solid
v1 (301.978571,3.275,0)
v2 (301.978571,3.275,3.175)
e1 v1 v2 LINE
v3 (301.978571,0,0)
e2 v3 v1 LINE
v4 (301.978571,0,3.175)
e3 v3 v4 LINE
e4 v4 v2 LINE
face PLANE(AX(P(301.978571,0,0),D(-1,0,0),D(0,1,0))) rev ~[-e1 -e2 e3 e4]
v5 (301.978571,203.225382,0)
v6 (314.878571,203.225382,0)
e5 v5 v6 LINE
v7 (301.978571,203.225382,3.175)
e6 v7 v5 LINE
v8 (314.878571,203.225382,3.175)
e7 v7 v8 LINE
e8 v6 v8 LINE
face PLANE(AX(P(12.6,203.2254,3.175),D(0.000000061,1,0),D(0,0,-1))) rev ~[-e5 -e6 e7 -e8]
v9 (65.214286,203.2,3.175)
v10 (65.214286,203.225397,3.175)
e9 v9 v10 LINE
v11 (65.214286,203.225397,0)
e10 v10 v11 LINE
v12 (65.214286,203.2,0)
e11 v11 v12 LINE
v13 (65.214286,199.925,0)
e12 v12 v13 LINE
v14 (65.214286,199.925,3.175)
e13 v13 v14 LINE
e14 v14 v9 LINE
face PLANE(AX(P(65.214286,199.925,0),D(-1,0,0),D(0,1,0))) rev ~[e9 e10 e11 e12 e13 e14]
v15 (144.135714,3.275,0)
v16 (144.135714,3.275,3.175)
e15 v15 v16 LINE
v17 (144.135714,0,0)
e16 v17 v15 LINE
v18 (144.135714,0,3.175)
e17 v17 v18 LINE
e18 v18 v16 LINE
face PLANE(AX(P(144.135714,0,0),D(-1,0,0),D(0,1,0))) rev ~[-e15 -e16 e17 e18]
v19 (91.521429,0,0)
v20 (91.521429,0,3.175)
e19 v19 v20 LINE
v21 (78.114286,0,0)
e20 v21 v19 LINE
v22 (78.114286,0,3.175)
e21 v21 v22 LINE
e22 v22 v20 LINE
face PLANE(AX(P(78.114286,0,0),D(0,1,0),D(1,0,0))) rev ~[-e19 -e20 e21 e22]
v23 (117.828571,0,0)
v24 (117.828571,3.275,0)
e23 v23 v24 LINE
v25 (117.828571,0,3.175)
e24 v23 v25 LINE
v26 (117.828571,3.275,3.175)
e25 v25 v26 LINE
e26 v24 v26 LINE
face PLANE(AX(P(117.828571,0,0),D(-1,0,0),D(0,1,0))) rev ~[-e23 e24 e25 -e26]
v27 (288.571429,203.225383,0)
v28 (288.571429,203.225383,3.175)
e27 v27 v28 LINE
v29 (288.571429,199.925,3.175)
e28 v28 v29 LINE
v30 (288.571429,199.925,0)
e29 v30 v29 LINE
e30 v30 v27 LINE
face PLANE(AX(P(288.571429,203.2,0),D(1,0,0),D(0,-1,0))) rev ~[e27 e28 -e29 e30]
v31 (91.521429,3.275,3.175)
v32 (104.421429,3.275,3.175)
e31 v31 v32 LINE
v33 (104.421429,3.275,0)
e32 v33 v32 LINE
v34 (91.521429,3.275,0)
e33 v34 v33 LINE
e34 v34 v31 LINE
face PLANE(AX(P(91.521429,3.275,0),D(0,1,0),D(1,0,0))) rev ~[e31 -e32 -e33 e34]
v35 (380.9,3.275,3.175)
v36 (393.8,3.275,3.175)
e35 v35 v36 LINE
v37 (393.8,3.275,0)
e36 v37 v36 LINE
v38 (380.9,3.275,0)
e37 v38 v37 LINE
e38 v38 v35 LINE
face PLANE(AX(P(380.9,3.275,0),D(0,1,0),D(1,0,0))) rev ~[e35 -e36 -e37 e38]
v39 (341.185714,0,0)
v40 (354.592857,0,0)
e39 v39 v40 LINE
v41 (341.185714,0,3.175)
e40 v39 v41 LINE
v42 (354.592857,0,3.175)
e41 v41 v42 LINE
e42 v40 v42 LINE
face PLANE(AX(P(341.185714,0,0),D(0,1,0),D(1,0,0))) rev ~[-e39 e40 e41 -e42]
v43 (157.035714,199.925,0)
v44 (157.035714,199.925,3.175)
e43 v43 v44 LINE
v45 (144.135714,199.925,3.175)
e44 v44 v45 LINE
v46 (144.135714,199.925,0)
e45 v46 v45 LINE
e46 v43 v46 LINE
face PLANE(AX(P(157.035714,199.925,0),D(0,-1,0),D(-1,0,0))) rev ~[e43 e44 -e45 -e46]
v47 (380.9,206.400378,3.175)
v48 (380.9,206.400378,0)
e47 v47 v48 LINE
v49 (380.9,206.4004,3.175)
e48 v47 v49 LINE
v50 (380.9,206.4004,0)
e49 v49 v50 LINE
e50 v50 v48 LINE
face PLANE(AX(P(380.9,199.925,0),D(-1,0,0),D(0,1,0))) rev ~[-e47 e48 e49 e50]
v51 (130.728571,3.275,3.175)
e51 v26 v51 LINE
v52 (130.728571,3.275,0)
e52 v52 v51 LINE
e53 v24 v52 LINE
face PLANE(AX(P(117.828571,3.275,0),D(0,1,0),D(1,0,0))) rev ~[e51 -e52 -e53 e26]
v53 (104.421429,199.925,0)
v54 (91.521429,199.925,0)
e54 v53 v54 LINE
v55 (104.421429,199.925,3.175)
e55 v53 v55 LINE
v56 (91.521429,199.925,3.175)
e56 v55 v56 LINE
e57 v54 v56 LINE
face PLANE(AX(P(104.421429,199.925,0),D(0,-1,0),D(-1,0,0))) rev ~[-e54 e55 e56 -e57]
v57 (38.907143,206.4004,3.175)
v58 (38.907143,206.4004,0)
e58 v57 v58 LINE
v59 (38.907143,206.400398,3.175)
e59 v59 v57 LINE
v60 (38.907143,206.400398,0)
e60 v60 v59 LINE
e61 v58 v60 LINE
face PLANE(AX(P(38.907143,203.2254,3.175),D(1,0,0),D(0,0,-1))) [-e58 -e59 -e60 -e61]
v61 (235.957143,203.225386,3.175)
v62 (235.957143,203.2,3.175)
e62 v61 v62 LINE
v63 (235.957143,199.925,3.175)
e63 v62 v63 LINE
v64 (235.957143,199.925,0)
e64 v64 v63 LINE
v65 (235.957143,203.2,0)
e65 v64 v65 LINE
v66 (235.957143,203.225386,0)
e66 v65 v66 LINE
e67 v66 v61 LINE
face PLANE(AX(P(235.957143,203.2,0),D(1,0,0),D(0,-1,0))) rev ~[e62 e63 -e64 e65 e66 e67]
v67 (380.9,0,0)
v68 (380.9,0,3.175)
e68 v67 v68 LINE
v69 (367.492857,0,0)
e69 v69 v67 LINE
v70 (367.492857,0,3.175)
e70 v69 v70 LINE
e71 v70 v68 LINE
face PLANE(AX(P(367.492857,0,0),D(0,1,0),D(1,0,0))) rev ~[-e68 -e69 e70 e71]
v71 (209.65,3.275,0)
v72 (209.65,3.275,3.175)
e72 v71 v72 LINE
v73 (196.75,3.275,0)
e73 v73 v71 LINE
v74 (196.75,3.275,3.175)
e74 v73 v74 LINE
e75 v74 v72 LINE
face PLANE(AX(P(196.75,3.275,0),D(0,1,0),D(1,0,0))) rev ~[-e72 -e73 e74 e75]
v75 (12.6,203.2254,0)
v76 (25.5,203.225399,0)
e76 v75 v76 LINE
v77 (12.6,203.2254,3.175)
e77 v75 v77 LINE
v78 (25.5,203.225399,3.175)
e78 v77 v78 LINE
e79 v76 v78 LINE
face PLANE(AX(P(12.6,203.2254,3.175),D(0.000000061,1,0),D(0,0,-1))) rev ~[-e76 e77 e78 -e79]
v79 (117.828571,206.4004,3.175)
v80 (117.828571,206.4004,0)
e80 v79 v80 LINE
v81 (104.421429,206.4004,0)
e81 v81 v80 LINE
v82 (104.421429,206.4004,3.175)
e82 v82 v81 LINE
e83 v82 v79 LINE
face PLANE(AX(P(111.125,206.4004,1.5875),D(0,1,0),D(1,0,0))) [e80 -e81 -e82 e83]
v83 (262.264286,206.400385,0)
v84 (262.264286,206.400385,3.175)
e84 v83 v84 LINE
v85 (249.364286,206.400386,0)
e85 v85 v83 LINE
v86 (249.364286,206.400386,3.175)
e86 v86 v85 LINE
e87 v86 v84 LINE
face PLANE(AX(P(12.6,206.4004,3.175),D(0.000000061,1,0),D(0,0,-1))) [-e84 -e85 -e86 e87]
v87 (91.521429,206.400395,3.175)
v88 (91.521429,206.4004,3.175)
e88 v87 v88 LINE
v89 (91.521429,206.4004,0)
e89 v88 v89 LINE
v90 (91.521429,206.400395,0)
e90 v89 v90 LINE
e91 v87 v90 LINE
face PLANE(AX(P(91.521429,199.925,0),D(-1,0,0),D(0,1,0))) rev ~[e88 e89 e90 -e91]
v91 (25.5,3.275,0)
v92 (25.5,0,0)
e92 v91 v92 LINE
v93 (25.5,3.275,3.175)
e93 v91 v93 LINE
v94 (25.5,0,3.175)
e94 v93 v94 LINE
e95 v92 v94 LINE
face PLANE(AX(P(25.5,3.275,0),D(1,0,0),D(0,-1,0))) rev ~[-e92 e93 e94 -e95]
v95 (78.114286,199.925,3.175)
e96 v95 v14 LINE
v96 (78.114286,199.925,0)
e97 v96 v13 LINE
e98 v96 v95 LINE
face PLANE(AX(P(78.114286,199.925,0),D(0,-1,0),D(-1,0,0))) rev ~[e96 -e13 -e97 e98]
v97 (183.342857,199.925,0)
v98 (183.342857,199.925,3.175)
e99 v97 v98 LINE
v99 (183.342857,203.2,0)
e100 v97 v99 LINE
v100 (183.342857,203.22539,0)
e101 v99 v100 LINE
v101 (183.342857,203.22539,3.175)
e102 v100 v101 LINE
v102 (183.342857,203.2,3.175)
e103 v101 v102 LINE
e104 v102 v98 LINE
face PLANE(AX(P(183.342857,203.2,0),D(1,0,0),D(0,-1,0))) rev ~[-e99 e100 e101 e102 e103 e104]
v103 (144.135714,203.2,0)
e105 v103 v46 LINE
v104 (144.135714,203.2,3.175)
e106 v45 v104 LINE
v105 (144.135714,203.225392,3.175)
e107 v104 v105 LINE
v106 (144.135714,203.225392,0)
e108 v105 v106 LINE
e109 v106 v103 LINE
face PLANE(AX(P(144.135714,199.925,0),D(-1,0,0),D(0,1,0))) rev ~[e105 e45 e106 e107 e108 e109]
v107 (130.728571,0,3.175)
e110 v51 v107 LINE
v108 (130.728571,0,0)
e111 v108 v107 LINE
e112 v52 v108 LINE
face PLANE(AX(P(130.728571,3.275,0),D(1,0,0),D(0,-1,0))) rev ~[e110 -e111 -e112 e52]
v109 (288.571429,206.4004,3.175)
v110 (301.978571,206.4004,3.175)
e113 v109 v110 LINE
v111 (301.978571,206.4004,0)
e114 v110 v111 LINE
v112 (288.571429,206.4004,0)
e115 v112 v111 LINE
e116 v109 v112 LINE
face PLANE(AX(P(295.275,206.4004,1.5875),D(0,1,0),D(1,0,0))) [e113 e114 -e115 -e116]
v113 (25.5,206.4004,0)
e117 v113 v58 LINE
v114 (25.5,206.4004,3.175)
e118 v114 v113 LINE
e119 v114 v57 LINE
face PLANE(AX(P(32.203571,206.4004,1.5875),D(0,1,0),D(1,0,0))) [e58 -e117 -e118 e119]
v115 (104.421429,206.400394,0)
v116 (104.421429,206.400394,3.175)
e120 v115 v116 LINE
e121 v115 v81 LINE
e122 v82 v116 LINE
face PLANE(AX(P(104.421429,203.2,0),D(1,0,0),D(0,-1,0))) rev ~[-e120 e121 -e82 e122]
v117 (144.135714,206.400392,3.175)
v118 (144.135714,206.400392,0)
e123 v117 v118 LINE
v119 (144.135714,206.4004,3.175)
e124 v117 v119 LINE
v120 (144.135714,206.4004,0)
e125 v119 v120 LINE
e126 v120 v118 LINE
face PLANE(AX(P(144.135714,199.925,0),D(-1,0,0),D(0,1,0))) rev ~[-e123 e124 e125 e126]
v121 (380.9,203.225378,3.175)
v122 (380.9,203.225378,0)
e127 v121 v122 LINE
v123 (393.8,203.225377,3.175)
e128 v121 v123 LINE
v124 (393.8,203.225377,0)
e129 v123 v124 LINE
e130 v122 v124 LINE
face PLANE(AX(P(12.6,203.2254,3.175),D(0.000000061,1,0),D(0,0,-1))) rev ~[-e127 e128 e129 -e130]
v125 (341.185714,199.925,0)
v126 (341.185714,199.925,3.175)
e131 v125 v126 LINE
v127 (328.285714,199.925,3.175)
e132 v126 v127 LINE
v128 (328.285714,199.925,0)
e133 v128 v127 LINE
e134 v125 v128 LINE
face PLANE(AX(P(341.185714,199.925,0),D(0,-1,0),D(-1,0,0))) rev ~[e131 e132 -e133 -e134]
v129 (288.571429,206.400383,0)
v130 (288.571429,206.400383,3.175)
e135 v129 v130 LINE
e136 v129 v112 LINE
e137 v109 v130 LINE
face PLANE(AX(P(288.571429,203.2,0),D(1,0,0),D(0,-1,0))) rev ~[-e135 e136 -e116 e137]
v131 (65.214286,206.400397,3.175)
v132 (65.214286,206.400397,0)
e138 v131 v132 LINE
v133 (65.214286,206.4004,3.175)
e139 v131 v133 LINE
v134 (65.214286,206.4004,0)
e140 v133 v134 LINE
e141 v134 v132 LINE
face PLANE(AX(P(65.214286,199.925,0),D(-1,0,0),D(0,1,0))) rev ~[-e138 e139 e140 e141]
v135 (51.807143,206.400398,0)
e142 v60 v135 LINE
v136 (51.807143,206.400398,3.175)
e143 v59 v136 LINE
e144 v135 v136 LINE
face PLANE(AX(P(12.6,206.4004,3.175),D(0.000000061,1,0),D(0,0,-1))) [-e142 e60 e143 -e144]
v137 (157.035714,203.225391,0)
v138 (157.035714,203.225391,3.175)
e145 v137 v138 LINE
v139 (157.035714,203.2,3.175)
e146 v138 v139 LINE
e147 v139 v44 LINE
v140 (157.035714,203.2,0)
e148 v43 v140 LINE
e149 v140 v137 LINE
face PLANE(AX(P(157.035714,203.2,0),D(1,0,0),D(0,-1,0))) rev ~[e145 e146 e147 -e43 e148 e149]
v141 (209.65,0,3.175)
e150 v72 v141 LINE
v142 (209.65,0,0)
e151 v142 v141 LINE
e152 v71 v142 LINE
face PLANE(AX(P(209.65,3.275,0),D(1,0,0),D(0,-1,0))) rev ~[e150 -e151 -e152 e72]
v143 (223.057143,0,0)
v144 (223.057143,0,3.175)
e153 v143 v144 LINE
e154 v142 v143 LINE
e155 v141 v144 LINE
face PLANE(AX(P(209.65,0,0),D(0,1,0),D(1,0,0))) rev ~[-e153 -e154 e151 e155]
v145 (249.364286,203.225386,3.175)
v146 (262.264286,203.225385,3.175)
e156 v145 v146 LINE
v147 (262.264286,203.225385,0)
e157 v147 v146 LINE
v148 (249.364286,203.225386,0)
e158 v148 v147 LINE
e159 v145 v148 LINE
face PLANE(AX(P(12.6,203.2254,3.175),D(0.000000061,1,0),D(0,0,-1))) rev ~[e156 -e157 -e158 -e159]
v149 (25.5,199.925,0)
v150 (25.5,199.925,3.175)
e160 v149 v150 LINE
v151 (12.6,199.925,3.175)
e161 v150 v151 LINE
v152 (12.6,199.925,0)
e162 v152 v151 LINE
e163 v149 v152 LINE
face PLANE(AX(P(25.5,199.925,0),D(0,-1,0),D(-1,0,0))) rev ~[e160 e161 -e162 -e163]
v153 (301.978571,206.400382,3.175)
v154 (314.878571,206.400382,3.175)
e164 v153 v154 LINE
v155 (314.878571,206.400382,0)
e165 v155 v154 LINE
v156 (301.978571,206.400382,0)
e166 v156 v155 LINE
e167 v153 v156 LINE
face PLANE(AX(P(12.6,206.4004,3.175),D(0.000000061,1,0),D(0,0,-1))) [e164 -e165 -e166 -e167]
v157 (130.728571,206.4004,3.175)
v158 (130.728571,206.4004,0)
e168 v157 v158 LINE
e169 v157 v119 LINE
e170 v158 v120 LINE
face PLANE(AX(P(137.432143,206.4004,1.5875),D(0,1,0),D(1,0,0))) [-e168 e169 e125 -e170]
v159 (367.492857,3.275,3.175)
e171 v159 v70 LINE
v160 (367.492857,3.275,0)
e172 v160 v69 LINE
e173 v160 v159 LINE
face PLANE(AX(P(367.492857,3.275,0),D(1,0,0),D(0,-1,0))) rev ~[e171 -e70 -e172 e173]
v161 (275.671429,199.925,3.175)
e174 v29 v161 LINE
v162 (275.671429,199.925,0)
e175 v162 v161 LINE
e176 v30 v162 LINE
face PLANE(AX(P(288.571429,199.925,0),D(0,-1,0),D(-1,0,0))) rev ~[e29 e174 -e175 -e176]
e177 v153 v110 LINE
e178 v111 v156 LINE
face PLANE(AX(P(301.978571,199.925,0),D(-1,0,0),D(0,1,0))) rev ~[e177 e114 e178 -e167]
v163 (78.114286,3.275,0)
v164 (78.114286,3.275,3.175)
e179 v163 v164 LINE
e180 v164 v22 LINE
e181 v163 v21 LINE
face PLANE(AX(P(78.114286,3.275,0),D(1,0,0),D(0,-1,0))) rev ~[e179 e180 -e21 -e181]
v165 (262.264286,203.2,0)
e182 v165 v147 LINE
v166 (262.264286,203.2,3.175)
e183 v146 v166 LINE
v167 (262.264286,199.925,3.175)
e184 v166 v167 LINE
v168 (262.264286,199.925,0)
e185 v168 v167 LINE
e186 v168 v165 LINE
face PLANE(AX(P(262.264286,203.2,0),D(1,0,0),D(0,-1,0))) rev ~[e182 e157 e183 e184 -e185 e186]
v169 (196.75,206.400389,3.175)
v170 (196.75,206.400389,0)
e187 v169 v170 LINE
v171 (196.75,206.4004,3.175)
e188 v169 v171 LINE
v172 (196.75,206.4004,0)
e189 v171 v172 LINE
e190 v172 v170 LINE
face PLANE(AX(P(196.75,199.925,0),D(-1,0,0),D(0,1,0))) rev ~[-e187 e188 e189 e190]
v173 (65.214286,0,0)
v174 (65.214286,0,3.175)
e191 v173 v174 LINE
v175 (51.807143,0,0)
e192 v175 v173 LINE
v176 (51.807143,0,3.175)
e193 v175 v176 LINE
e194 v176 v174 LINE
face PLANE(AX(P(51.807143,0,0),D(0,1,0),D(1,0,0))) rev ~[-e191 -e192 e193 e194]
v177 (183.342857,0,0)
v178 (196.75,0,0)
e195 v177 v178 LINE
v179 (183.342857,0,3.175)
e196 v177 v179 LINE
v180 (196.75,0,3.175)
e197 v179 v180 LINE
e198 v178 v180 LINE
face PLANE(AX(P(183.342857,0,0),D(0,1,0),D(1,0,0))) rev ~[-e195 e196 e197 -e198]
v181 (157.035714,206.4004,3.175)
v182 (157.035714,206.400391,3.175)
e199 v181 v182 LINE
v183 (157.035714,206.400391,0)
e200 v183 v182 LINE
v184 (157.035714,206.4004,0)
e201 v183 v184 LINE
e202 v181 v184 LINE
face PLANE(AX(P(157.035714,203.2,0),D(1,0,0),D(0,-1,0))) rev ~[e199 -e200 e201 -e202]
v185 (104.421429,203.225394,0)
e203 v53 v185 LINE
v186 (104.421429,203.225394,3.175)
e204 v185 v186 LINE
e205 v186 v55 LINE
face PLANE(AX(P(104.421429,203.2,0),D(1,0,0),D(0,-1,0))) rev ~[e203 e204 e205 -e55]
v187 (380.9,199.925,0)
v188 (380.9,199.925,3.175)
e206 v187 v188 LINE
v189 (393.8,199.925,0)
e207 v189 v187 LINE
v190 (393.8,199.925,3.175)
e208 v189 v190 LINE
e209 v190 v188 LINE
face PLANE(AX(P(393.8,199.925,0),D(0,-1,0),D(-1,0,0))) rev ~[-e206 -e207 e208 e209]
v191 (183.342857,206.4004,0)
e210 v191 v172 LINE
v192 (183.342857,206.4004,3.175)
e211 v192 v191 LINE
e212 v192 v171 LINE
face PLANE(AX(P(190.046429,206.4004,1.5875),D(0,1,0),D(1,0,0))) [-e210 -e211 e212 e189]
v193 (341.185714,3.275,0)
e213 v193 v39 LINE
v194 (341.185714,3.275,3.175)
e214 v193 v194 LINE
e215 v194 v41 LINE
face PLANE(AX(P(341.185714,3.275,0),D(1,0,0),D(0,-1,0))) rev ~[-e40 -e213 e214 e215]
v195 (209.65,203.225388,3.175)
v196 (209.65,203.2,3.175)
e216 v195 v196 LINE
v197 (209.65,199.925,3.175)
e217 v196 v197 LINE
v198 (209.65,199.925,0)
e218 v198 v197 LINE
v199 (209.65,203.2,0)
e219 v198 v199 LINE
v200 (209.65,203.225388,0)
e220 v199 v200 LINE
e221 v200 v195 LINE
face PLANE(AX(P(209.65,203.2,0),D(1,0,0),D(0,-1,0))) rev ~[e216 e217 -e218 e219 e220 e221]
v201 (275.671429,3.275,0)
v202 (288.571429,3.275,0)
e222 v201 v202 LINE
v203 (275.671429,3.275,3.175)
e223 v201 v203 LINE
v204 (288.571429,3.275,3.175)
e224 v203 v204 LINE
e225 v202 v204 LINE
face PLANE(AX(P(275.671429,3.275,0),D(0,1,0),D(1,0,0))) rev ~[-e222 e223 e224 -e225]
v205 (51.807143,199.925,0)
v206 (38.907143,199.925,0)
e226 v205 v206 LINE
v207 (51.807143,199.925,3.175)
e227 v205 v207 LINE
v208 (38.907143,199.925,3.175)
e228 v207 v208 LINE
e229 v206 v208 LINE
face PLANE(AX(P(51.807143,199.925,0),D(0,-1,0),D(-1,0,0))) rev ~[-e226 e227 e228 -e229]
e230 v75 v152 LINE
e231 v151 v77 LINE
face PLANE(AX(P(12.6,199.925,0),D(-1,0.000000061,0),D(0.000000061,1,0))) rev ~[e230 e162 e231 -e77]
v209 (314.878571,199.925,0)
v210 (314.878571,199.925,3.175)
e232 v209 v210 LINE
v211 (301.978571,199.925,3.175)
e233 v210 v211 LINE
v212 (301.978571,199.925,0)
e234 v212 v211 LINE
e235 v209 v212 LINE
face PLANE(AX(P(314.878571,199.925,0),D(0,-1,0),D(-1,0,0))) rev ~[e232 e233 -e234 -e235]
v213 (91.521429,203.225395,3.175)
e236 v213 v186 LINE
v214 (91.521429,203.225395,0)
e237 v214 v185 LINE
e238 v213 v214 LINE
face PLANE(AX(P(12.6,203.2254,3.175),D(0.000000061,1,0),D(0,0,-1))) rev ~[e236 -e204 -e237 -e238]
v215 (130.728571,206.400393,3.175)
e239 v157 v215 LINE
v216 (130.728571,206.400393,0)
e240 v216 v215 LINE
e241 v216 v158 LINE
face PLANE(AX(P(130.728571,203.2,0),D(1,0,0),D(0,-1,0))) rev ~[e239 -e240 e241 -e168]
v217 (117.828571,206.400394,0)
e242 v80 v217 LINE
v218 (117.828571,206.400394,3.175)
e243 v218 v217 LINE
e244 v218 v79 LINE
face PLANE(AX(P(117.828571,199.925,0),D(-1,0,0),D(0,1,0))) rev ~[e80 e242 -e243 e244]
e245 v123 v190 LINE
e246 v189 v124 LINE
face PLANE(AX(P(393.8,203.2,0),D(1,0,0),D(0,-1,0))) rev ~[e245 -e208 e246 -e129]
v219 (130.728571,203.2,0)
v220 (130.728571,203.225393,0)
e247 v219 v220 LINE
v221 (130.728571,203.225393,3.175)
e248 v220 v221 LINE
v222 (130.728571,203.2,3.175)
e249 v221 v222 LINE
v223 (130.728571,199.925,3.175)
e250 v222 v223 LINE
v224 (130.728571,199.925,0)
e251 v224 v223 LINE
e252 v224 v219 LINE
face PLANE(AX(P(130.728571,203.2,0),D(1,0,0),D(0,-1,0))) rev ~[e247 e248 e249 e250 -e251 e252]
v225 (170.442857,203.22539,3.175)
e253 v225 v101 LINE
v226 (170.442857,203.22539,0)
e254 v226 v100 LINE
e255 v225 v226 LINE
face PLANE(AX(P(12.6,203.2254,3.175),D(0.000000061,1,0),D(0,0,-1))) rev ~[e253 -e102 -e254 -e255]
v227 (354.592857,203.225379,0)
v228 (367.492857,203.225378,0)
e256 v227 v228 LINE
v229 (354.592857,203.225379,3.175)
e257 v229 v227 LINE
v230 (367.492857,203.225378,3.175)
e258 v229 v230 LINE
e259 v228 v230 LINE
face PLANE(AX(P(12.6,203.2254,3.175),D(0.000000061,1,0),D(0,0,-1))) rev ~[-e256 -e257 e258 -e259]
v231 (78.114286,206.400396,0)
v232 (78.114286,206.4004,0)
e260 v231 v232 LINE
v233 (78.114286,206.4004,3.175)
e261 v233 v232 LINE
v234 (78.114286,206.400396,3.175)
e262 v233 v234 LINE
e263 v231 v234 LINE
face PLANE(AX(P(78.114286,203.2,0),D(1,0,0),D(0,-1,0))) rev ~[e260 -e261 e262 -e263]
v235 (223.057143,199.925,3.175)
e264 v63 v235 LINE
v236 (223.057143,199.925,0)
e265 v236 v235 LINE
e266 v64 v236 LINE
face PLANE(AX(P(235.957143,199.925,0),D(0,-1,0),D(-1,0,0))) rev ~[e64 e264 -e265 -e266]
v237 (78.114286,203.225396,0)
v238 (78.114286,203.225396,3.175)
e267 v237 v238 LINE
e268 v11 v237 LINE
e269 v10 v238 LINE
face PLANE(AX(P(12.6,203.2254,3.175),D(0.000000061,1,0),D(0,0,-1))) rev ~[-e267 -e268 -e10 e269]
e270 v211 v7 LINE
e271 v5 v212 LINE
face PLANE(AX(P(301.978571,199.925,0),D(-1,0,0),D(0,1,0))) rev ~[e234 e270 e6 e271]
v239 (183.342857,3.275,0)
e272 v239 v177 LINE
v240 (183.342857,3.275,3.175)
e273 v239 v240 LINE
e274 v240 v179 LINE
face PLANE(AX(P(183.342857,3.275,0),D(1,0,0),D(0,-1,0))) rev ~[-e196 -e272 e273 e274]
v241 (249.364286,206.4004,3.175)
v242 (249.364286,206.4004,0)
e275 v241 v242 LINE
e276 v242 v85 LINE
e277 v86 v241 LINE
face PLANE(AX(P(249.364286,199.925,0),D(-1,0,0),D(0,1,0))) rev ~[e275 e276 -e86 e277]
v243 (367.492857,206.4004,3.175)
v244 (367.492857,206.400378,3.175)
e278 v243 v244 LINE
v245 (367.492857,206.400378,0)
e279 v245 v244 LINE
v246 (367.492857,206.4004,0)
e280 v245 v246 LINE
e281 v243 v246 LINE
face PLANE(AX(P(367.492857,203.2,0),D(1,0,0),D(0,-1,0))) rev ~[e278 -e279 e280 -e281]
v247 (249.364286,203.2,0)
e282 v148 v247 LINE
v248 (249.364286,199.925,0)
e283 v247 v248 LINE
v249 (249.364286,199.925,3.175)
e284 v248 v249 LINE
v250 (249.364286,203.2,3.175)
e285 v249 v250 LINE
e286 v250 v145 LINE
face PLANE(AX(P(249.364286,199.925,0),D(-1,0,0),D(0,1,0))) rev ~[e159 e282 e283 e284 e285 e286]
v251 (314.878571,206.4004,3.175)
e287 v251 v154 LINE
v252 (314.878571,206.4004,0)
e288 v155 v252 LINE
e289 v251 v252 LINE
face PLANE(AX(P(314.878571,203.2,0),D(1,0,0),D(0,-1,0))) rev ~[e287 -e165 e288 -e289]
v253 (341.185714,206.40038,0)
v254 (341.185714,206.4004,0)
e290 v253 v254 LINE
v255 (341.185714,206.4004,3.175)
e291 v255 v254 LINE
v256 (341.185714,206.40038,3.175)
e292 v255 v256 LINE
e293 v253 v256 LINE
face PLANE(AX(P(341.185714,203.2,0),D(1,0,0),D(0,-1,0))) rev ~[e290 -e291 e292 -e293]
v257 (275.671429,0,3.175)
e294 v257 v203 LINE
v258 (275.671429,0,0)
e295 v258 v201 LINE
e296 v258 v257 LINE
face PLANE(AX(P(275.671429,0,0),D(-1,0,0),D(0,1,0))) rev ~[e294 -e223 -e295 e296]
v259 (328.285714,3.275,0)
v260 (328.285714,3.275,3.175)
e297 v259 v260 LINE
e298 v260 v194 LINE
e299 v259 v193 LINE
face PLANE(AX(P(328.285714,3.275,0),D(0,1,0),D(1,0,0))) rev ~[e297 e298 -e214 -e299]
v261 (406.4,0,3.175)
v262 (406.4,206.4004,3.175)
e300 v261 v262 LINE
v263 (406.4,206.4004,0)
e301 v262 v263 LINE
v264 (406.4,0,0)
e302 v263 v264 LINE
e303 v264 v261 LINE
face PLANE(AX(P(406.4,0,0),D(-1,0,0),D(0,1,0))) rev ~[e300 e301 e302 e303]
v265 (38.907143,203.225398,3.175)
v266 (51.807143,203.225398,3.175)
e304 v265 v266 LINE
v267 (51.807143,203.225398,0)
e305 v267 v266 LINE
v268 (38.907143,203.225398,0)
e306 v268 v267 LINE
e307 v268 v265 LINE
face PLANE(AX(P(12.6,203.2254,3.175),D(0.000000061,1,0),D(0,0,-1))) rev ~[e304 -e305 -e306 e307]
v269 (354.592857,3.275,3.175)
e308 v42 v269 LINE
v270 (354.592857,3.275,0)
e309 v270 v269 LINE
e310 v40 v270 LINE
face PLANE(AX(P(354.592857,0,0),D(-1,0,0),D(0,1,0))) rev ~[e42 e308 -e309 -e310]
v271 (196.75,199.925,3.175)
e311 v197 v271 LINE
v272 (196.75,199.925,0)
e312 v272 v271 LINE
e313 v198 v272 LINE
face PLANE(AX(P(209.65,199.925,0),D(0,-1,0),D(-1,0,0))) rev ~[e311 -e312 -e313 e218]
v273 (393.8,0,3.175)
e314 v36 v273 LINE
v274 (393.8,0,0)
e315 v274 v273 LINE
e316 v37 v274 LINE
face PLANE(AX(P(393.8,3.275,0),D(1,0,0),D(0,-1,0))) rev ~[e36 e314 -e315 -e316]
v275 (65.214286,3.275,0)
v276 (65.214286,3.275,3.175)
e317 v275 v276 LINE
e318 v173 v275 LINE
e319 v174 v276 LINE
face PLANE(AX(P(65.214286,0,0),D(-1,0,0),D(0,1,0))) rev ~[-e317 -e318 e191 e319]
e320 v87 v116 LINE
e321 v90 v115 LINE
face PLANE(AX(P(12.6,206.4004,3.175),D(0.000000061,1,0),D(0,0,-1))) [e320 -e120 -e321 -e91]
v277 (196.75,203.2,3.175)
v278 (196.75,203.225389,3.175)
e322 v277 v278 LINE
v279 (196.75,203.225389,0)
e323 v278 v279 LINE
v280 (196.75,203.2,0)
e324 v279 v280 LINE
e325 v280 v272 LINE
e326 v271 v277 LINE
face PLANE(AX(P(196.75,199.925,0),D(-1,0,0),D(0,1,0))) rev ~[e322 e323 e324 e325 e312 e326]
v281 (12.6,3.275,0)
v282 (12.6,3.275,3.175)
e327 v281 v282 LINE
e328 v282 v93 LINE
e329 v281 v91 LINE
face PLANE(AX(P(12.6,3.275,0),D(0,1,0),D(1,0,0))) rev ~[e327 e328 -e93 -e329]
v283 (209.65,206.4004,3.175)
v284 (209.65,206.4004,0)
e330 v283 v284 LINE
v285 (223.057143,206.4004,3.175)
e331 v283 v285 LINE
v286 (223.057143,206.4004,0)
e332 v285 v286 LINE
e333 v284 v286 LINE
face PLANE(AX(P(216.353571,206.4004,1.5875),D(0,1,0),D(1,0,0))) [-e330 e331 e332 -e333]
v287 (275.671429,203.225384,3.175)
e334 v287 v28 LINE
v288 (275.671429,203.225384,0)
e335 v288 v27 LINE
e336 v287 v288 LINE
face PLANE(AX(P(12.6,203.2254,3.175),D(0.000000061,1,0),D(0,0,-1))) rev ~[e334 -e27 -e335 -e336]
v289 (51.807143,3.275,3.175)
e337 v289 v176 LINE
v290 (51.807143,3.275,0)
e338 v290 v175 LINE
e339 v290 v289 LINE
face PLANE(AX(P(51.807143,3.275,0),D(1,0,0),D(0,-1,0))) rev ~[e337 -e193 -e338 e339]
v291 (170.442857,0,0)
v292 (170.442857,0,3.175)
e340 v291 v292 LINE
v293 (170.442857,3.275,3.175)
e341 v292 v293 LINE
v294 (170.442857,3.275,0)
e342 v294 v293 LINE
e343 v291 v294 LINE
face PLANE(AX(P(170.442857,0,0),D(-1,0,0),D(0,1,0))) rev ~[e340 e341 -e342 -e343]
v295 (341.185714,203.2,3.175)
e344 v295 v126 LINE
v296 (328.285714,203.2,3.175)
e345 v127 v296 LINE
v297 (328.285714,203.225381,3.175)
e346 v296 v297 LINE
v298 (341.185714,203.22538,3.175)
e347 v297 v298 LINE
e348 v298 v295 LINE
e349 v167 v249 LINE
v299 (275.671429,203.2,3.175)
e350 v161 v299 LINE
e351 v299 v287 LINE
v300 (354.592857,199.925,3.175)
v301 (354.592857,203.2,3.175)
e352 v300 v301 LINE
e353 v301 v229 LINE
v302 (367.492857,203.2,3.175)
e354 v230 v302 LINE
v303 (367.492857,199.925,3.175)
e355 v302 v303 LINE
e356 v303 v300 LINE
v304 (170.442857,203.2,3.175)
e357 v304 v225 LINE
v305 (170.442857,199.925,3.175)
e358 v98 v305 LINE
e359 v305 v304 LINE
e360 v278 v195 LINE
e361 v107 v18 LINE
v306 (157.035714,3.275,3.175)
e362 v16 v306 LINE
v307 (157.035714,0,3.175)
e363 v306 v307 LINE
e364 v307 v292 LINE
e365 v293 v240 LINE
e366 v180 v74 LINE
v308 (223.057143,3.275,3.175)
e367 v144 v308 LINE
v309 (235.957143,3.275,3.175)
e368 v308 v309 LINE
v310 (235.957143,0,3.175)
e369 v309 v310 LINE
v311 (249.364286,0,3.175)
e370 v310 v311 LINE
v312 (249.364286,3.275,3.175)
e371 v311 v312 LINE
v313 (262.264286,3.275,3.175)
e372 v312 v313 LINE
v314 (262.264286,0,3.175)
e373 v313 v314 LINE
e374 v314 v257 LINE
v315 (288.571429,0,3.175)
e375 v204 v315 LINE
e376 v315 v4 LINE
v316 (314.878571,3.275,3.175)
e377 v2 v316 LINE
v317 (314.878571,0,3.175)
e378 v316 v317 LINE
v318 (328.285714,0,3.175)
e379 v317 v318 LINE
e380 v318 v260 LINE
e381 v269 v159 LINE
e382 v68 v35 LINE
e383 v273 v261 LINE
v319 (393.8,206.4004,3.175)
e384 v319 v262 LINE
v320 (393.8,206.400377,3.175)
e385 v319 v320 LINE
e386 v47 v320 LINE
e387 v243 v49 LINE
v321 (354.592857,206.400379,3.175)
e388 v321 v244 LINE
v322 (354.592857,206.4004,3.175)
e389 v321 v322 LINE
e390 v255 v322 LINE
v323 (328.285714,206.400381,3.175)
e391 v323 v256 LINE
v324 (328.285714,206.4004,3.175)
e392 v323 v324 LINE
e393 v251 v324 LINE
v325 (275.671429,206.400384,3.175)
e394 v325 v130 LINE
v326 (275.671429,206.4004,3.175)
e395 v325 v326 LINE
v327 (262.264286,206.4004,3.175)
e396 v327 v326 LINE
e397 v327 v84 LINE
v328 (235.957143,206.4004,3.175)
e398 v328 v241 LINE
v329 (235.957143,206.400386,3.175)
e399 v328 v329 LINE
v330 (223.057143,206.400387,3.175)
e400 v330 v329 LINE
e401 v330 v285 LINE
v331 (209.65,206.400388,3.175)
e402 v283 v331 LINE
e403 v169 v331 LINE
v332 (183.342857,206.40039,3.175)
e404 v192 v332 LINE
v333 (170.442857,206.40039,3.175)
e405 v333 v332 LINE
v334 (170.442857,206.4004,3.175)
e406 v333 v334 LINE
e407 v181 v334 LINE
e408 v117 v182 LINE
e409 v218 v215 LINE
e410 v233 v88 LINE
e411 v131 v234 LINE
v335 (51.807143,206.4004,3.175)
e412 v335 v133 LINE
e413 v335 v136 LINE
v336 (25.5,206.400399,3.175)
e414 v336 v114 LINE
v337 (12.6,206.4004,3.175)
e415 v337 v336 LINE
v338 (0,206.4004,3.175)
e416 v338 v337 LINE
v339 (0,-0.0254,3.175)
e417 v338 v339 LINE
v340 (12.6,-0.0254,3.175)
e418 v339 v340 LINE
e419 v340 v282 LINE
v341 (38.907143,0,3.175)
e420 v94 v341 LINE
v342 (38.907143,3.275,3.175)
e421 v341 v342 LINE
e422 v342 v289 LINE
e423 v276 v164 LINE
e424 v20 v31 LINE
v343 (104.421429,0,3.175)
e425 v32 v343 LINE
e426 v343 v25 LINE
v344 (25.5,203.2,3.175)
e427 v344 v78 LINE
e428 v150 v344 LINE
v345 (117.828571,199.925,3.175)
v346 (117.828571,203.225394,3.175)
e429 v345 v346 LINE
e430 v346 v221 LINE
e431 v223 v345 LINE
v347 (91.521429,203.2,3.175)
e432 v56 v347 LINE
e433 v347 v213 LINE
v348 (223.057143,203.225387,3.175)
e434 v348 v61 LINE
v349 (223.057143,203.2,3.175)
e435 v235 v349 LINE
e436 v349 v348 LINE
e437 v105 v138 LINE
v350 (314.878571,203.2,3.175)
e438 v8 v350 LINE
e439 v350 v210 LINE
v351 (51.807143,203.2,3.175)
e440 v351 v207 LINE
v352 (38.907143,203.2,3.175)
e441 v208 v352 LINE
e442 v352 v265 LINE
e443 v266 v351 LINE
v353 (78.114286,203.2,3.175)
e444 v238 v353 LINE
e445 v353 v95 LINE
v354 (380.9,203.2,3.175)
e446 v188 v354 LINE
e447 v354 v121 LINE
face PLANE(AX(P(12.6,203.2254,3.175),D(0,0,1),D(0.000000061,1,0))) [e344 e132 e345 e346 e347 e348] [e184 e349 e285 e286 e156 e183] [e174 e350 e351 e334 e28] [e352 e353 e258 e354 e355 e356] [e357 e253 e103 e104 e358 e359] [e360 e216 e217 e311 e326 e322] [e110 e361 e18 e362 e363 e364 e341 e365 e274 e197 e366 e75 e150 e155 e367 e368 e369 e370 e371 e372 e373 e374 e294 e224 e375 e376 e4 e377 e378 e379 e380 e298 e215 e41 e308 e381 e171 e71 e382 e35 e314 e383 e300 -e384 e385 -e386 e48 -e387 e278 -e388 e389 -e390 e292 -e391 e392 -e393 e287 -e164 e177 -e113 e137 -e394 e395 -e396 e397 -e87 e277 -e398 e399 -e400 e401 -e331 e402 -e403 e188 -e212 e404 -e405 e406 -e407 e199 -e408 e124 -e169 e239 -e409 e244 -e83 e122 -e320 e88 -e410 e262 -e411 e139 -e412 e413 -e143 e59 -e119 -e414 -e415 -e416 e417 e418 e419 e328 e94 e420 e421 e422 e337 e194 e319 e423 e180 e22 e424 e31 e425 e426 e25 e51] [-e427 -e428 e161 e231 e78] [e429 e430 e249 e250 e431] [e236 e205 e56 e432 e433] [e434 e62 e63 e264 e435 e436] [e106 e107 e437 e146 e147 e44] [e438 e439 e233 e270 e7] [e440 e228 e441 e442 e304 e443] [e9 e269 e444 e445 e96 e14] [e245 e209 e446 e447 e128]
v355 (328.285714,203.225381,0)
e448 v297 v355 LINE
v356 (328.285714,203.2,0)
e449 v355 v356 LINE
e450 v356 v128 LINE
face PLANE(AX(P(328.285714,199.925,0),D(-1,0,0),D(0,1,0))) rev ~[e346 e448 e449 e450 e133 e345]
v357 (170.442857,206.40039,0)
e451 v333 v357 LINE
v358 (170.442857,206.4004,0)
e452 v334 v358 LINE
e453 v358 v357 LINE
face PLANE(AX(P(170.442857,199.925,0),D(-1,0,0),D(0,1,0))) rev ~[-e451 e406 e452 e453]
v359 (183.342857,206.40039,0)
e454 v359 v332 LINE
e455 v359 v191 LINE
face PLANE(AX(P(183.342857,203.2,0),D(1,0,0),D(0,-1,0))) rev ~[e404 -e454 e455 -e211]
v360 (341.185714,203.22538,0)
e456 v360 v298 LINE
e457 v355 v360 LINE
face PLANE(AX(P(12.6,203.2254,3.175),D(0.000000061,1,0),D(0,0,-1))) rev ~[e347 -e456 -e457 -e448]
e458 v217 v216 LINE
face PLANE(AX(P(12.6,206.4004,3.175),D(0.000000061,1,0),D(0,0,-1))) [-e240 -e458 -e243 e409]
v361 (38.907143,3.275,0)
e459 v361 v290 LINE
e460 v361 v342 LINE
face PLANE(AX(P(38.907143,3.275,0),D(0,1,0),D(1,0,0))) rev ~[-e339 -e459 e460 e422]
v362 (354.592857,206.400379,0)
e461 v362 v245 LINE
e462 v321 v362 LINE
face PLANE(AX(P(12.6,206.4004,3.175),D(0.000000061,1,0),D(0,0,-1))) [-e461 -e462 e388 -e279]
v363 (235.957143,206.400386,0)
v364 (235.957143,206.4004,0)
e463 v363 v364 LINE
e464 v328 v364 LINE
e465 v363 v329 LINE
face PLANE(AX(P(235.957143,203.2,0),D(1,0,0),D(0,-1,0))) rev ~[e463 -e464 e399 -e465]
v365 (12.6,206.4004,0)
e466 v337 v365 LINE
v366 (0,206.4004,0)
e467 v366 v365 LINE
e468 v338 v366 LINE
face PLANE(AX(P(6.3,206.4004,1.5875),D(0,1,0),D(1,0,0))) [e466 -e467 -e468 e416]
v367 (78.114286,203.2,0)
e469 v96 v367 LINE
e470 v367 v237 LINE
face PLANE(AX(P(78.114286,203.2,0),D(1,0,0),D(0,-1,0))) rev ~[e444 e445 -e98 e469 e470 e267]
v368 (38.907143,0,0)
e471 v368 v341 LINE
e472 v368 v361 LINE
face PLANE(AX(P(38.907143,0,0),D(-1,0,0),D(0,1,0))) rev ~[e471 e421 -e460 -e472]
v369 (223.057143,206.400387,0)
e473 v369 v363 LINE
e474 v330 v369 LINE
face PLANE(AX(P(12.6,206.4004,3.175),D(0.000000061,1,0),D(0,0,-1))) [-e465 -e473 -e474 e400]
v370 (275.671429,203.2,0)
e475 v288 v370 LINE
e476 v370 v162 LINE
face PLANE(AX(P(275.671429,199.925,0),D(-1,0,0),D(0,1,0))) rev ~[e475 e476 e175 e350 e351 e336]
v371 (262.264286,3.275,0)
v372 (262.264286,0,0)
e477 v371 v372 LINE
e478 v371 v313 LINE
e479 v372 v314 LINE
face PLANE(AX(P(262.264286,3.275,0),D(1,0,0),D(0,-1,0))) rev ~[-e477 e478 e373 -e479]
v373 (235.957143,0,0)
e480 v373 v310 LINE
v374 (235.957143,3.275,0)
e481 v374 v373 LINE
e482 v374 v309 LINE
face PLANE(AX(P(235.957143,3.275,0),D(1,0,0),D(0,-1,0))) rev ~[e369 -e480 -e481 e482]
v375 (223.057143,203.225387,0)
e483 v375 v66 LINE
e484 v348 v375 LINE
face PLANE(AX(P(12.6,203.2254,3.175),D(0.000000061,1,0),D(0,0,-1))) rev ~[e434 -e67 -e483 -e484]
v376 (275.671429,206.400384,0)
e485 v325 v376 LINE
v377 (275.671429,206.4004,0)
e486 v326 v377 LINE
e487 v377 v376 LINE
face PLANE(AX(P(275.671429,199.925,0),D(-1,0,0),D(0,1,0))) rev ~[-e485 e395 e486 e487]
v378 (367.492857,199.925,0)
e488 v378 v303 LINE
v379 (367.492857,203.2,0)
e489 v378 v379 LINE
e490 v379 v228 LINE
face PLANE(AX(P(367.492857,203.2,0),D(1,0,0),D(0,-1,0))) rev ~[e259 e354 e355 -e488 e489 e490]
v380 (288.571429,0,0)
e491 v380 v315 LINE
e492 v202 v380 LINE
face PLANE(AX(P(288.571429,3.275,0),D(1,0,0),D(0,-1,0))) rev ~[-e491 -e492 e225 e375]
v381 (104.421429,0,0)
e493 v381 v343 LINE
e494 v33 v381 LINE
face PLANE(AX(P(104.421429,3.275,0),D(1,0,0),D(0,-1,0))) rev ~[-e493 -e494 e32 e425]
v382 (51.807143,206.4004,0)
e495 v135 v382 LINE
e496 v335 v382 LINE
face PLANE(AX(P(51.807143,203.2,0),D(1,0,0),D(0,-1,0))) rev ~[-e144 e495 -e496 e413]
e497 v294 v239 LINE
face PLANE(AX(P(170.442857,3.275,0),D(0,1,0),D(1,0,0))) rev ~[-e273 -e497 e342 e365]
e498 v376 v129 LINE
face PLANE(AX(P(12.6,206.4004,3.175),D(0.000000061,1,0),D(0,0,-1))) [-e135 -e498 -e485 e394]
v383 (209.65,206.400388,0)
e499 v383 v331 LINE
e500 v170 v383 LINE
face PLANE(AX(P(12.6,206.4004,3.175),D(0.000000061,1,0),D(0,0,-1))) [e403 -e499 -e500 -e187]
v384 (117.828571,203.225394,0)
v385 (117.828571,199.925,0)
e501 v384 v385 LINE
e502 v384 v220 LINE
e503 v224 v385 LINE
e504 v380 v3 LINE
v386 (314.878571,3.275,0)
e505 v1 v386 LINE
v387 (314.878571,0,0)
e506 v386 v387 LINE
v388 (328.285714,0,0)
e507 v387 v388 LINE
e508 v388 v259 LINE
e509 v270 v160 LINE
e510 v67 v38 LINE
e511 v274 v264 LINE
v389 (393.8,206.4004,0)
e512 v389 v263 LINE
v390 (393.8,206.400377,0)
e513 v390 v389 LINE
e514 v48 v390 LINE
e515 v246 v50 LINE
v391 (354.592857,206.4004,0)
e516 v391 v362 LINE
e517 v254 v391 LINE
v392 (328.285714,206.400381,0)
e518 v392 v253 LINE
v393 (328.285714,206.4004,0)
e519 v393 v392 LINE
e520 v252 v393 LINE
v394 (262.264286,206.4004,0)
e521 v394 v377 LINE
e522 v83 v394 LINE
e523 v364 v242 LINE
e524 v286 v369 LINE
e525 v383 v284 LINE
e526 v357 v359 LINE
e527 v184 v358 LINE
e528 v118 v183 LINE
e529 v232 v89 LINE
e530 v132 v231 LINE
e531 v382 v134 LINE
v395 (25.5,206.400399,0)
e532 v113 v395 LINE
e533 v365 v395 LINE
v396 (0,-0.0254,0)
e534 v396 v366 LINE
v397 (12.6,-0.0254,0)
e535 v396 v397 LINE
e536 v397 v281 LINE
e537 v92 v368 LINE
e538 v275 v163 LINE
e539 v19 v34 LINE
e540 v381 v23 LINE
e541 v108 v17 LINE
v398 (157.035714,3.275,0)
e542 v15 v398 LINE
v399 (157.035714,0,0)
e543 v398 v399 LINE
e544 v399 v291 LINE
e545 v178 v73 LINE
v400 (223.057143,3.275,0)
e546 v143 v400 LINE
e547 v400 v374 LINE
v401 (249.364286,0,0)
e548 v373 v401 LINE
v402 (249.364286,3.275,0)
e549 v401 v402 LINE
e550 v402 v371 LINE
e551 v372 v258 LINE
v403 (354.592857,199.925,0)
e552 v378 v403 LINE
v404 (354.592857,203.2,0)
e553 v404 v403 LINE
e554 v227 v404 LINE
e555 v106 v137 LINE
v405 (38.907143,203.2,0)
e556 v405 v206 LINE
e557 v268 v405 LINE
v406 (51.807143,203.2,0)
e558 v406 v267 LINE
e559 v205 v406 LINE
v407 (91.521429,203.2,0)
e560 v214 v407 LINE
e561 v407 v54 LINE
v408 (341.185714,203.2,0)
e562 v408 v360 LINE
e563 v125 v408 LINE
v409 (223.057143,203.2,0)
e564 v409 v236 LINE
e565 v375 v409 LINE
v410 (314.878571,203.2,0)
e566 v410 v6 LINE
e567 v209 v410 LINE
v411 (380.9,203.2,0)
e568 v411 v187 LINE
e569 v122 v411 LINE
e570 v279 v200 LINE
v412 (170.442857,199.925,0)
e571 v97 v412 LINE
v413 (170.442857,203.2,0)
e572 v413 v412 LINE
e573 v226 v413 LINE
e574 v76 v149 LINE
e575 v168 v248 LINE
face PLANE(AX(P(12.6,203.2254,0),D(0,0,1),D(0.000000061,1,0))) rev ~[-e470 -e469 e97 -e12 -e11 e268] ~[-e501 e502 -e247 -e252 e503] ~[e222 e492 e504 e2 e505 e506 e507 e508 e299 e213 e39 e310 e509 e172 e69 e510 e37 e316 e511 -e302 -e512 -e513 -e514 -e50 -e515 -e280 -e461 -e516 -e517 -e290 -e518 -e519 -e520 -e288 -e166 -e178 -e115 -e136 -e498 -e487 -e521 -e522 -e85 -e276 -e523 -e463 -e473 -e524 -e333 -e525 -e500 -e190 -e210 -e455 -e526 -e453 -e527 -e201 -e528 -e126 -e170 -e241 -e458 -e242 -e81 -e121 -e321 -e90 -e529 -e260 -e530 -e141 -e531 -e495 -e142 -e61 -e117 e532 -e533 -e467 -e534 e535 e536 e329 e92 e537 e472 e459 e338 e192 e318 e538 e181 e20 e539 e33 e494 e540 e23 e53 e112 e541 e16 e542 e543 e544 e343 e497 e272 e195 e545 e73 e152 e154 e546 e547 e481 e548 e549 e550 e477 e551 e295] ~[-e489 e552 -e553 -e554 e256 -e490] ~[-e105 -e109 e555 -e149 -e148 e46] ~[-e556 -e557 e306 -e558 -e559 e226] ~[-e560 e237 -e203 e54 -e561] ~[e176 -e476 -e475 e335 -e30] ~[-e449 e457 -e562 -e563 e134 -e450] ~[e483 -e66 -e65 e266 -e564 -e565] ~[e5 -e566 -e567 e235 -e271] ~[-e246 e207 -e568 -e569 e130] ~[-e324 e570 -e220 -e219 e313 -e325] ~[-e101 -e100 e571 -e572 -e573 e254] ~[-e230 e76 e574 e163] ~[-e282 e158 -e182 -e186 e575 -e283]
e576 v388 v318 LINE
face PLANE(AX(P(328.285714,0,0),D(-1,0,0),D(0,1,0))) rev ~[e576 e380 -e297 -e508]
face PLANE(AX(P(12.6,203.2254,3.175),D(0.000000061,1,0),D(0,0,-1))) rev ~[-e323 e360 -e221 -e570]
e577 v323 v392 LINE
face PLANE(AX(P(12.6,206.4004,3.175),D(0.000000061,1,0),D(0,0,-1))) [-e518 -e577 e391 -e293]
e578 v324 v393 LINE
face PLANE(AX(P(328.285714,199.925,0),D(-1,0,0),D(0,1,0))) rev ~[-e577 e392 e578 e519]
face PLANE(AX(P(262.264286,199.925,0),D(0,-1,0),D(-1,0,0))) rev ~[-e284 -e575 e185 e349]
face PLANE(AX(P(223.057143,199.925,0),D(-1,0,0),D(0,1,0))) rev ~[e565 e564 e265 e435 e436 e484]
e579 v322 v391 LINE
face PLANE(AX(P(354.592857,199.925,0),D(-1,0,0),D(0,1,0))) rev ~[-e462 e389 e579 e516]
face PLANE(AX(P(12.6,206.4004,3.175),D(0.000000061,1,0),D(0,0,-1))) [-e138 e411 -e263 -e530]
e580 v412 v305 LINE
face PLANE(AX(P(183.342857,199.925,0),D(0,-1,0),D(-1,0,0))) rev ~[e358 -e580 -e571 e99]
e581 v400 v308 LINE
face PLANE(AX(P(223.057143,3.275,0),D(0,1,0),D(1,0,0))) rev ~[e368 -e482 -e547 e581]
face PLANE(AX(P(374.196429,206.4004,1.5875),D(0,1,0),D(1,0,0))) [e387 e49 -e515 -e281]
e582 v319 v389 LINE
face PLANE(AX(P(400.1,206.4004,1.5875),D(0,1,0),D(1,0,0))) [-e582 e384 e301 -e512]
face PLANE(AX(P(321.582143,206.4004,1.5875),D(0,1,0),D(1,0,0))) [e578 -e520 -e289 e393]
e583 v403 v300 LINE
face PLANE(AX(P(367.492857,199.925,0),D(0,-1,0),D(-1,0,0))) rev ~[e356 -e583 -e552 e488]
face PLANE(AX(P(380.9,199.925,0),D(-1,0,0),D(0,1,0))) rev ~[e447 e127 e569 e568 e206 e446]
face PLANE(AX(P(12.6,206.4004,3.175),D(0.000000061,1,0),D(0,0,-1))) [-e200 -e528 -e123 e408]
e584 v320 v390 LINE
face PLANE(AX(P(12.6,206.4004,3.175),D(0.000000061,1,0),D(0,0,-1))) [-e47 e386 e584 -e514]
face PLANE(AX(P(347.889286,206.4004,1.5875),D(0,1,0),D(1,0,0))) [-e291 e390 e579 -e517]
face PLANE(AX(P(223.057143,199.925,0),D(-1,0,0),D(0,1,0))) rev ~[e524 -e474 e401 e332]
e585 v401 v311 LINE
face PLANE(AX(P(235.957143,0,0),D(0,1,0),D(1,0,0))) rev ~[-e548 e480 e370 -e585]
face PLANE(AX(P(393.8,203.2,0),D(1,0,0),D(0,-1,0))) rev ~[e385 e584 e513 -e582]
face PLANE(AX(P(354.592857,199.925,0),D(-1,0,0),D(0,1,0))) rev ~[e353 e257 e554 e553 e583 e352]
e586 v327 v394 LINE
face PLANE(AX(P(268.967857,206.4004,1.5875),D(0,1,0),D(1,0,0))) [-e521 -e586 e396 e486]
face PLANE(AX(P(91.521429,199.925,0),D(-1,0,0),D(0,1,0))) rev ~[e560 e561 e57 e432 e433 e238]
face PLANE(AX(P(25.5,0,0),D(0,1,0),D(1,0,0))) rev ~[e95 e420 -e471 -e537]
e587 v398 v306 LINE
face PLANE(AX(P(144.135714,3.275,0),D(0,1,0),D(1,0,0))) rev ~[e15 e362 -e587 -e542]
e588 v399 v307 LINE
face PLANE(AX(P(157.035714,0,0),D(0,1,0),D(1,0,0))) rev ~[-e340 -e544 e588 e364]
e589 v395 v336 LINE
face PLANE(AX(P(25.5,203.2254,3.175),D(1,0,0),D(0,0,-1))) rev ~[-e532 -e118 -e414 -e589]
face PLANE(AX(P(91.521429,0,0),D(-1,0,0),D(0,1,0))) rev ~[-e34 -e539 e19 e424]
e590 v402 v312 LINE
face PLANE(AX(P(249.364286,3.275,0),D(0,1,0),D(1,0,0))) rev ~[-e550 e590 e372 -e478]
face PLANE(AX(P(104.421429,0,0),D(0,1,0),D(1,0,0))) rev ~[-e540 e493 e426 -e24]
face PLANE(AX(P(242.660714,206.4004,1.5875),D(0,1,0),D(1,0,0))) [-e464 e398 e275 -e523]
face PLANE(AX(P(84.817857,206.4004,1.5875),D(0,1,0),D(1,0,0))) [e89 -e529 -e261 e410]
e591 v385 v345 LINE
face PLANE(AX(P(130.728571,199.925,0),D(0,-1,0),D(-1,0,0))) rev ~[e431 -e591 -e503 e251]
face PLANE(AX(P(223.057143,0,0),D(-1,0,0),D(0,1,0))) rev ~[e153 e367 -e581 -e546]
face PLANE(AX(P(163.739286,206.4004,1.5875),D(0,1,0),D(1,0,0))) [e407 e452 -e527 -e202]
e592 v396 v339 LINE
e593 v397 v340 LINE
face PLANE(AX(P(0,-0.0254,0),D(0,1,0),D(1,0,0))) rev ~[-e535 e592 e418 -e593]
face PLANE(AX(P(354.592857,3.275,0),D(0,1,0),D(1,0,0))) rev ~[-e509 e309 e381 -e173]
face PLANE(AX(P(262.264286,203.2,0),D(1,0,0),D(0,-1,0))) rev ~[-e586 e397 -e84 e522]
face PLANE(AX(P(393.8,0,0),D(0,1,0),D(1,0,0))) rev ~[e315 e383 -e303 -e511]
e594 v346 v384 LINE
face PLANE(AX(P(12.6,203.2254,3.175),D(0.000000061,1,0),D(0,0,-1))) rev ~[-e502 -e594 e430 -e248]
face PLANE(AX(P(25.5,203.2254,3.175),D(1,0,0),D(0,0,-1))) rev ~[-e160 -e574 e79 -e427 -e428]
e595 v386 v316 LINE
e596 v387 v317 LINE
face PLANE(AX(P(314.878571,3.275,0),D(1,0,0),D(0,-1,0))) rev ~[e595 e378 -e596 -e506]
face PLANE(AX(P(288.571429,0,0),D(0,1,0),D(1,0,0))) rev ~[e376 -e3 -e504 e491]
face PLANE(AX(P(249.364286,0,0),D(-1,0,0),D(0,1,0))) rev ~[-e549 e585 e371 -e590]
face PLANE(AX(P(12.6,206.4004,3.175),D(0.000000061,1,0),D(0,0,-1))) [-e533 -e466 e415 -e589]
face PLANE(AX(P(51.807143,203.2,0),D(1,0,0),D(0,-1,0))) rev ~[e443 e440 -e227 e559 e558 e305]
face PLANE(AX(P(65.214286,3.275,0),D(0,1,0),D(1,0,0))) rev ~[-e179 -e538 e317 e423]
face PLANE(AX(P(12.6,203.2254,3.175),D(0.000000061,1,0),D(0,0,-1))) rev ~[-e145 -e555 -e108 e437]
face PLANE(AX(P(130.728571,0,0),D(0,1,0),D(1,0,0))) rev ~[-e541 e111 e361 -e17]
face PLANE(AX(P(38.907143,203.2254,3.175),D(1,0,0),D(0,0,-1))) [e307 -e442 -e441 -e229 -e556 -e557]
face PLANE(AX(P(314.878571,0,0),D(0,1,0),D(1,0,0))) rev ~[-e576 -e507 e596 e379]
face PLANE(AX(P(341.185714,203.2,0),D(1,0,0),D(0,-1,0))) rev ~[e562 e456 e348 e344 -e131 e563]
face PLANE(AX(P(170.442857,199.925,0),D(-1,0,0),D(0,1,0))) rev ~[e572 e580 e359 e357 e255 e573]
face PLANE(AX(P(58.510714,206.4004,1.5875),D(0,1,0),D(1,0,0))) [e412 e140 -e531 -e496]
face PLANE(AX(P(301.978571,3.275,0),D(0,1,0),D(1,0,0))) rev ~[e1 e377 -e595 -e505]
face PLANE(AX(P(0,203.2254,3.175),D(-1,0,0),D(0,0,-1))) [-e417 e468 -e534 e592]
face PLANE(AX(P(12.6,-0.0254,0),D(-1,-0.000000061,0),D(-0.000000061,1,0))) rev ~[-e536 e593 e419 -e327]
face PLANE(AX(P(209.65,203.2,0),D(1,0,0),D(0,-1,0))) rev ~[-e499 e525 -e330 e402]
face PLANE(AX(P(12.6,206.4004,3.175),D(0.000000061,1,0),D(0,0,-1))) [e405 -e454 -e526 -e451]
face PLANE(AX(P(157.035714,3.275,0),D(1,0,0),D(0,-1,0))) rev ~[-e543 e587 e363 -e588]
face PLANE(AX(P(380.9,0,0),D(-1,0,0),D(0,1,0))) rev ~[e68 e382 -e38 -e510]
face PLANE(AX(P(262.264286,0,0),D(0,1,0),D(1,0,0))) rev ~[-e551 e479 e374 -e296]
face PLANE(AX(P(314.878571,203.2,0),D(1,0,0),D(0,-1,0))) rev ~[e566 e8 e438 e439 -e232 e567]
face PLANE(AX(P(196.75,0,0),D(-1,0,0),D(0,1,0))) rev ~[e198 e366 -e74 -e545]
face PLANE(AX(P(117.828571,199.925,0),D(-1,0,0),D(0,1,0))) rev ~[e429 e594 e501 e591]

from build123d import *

# Parameters (mm, degrees)
BOSS_EXTRUDE1_DEPTH      = 3.175
SKETCH2_W                = 13.407142857
SKETCH2_H                = 3.175
SKETCH2_W_2              = 12.6000002
SKETCH2_W_3              = 13.407142858
SKETCH2_W_4              = 12.6
BOSS_EXTRUDE3_DEPTH      = 3.175
BOSS_EXTRUDE3_DEPTH_BACK = 0.635
SKETCH3_W                = 3.175
SKETCH3_H                = 3.175
BOSS_EXTRUDE4_DEPTH      = 381.2


with BuildPart() as part:
    # Sketch1 → Boss-Extrude1 (new body)
    with BuildSketch(Plane.XY):
        Polygon((393.8, 203.2), (393.8, 199.925), (380.9, 199.925), (380.9, 203.2), (367.492857143, 203.2), (367.492857143, 199.925), (354.592857143, 199.925), (354.592857143, 203.2), (341.185714286, 203.2), (341.185714286, 199.925), (328.285714286, 199.925), (328.285714286, 203.2), (314.878571429, 203.2), (314.878571429, 199.925), (301.978571429, 199.925), (301.978571429, 203.2), (288.571428571, 203.2), (288.571428571, 199.925), (275.671428571, 199.925), (275.671428571, 203.2), (262.264285714, 203.2), (262.264285714, 199.925), (249.364285714, 199.925), (249.364285714, 203.2), (235.957142857, 203.2), (235.957142857, 199.925), (223.057142857, 199.925), (223.057142857, 203.2), (209.65, 203.2), (209.65, 199.925), (196.75, 199.925), (196.75, 203.2), (183.342857143, 203.2), (183.342857143, 199.925), (170.442857143, 199.925), (170.442857143, 203.2), (157.035714286, 203.2), (157.035714286, 199.925), (144.135714286, 199.925), (144.135714286, 203.2), (130.728571429, 203.2), (130.728571429, 199.925), (117.828571429, 199.925), (117.828571429, 203.2), (104.421428571, 203.2), (104.421428571, 199.925), (91.521428571, 199.925), (91.521428571, 203.2), (78.114285714, 203.2), (78.114285714, 199.925), (65.214285714, 199.925), (65.214285714, 203.2), (51.807142857, 203.2), (51.807142857, 199.925), (38.907142857, 199.925), (38.907142857, 203.2), (25.5, 203.2), (25.5, 199.925), (12.6, 199.925), (12.6000002, 203.2254), (0, 203.2254), (0, -0.0254), (12.6000002, -0.0254), (12.6, 3.275), (25.5, 3.275), (25.5, 0), (38.907142857, 0), (38.907142857, 3.275), (51.807142857, 3.275), (51.807142857, 0), (65.214285714, 0), (65.214285714, 3.275), (78.114285714, 3.275), (78.114285714, 0), (91.521428571, 0), (91.521428571, 3.275), (104.421428571, 3.275), (104.421428571, 0), (117.828571429, 0), (117.828571429, 3.275), (130.728571429, 3.275), (130.728571429, 0), (144.135714286, 0), (144.135714286, 3.275), (157.035714286, 3.275), (157.035714286, 0), (170.442857143, 0), (170.442857143, 3.275), (183.342857143, 3.275), (183.342857143, 0), (196.75, 0), (196.75, 3.275), (209.65, 3.275), (209.65, 0), (223.057142857, 0), (223.057142857, 3.275), (235.957142857, 3.275), (235.957142857, 0), (249.364285714, 0), (249.364285714, 3.275), (262.264285714, 3.275), (262.264285714, 0), (275.671428571, 0), (275.671428571, 3.275), (288.571428571, 3.275), (288.571428571, 0), (301.978571429, 0), (301.978571429, 3.275), (314.878571429, 3.275), (314.878571429, 0), (328.285714286, 0), (328.285714286, 3.275), (341.185714286, 3.275), (341.185714286, 0), (354.592857143, 0), (354.592857143, 3.275), (367.492857143, 3.275), (367.492857143, 0), (380.9, 0), (380.9, 3.275), (393.8, 3.275), (393.8, 0), (406.4, 0), (406.4, 203.2), align=None)
    extrude(amount=BOSS_EXTRUDE1_DEPTH)

    # Sketch2 → Boss-Extrude3 (add, two sides)
    with BuildSketch(Plane(origin=(0, 203.2254, 0), x_dir=(1, 0, 0), z_dir=(0, 1, 0))) as boss_extrude3_sk:
        with Locations((32.203571428, -1.5875)):
            Rectangle(SKETCH2_W, SKETCH2_H)
        with Locations((58.510714286, -1.5875)):
            Rectangle(SKETCH2_W, SKETCH2_H)
        with Locations((137.432142857, -1.5875)):
            Rectangle(SKETCH2_W, SKETCH2_H)
        with Locations((163.739285714, -1.5875)):
            Rectangle(SKETCH2_W, SKETCH2_H)
        with Locations((216.353571429, -1.5875)):
            Rectangle(SKETCH2_W, SKETCH2_H)
        with Locations((321.582142858, -1.5875)):
            Rectangle(SKETCH2_W, SKETCH2_H)
        with Locations((6.3000001, -1.5875)):
            Rectangle(SKETCH2_W_2, SKETCH2_H)
        with Locations((84.817857143, -1.5875)):
            Rectangle(SKETCH2_W, SKETCH2_H)
        with Locations((111.125, -1.5875)):
            Rectangle(SKETCH2_W_3, SKETCH2_H)
        with Locations((190.046428572, -1.5875)):
            Rectangle(SKETCH2_W, SKETCH2_H)
        with Locations((242.660714286, -1.5875)):
            Rectangle(SKETCH2_W, SKETCH2_H)
        with Locations((268.967857143, -1.5875)):
            Rectangle(SKETCH2_W, SKETCH2_H)
        with Locations((295.275, -1.5875)):
            Rectangle(SKETCH2_W_3, SKETCH2_H)
        with Locations((347.889285715, -1.5875)):
            Rectangle(SKETCH2_W, SKETCH2_H)
        with Locations((374.196428572, -1.5875)):
            Rectangle(SKETCH2_W, SKETCH2_H)
        with Locations((400.1, -1.5875)):
            Rectangle(SKETCH2_W_4, SKETCH2_H)
    extrude(amount=BOSS_EXTRUDE3_DEPTH)
    extrude(boss_extrude3_sk.sketch, amount=-BOSS_EXTRUDE3_DEPTH_BACK)

    # Sketch3 → Boss-Extrude4 (add)
    with BuildSketch(Plane(origin=(12.599987885, -7.64e-07, 0), x_dir=(0, 0, -1), z_dir=(1, -6.1e-08, 0))):
        with Locations((-1.5875, 204.812900764)):
            Rectangle(SKETCH3_W, SKETCH3_H)
    extrude(amount=BOSS_EXTRUDE4_DEPTH)


solid = part.part
